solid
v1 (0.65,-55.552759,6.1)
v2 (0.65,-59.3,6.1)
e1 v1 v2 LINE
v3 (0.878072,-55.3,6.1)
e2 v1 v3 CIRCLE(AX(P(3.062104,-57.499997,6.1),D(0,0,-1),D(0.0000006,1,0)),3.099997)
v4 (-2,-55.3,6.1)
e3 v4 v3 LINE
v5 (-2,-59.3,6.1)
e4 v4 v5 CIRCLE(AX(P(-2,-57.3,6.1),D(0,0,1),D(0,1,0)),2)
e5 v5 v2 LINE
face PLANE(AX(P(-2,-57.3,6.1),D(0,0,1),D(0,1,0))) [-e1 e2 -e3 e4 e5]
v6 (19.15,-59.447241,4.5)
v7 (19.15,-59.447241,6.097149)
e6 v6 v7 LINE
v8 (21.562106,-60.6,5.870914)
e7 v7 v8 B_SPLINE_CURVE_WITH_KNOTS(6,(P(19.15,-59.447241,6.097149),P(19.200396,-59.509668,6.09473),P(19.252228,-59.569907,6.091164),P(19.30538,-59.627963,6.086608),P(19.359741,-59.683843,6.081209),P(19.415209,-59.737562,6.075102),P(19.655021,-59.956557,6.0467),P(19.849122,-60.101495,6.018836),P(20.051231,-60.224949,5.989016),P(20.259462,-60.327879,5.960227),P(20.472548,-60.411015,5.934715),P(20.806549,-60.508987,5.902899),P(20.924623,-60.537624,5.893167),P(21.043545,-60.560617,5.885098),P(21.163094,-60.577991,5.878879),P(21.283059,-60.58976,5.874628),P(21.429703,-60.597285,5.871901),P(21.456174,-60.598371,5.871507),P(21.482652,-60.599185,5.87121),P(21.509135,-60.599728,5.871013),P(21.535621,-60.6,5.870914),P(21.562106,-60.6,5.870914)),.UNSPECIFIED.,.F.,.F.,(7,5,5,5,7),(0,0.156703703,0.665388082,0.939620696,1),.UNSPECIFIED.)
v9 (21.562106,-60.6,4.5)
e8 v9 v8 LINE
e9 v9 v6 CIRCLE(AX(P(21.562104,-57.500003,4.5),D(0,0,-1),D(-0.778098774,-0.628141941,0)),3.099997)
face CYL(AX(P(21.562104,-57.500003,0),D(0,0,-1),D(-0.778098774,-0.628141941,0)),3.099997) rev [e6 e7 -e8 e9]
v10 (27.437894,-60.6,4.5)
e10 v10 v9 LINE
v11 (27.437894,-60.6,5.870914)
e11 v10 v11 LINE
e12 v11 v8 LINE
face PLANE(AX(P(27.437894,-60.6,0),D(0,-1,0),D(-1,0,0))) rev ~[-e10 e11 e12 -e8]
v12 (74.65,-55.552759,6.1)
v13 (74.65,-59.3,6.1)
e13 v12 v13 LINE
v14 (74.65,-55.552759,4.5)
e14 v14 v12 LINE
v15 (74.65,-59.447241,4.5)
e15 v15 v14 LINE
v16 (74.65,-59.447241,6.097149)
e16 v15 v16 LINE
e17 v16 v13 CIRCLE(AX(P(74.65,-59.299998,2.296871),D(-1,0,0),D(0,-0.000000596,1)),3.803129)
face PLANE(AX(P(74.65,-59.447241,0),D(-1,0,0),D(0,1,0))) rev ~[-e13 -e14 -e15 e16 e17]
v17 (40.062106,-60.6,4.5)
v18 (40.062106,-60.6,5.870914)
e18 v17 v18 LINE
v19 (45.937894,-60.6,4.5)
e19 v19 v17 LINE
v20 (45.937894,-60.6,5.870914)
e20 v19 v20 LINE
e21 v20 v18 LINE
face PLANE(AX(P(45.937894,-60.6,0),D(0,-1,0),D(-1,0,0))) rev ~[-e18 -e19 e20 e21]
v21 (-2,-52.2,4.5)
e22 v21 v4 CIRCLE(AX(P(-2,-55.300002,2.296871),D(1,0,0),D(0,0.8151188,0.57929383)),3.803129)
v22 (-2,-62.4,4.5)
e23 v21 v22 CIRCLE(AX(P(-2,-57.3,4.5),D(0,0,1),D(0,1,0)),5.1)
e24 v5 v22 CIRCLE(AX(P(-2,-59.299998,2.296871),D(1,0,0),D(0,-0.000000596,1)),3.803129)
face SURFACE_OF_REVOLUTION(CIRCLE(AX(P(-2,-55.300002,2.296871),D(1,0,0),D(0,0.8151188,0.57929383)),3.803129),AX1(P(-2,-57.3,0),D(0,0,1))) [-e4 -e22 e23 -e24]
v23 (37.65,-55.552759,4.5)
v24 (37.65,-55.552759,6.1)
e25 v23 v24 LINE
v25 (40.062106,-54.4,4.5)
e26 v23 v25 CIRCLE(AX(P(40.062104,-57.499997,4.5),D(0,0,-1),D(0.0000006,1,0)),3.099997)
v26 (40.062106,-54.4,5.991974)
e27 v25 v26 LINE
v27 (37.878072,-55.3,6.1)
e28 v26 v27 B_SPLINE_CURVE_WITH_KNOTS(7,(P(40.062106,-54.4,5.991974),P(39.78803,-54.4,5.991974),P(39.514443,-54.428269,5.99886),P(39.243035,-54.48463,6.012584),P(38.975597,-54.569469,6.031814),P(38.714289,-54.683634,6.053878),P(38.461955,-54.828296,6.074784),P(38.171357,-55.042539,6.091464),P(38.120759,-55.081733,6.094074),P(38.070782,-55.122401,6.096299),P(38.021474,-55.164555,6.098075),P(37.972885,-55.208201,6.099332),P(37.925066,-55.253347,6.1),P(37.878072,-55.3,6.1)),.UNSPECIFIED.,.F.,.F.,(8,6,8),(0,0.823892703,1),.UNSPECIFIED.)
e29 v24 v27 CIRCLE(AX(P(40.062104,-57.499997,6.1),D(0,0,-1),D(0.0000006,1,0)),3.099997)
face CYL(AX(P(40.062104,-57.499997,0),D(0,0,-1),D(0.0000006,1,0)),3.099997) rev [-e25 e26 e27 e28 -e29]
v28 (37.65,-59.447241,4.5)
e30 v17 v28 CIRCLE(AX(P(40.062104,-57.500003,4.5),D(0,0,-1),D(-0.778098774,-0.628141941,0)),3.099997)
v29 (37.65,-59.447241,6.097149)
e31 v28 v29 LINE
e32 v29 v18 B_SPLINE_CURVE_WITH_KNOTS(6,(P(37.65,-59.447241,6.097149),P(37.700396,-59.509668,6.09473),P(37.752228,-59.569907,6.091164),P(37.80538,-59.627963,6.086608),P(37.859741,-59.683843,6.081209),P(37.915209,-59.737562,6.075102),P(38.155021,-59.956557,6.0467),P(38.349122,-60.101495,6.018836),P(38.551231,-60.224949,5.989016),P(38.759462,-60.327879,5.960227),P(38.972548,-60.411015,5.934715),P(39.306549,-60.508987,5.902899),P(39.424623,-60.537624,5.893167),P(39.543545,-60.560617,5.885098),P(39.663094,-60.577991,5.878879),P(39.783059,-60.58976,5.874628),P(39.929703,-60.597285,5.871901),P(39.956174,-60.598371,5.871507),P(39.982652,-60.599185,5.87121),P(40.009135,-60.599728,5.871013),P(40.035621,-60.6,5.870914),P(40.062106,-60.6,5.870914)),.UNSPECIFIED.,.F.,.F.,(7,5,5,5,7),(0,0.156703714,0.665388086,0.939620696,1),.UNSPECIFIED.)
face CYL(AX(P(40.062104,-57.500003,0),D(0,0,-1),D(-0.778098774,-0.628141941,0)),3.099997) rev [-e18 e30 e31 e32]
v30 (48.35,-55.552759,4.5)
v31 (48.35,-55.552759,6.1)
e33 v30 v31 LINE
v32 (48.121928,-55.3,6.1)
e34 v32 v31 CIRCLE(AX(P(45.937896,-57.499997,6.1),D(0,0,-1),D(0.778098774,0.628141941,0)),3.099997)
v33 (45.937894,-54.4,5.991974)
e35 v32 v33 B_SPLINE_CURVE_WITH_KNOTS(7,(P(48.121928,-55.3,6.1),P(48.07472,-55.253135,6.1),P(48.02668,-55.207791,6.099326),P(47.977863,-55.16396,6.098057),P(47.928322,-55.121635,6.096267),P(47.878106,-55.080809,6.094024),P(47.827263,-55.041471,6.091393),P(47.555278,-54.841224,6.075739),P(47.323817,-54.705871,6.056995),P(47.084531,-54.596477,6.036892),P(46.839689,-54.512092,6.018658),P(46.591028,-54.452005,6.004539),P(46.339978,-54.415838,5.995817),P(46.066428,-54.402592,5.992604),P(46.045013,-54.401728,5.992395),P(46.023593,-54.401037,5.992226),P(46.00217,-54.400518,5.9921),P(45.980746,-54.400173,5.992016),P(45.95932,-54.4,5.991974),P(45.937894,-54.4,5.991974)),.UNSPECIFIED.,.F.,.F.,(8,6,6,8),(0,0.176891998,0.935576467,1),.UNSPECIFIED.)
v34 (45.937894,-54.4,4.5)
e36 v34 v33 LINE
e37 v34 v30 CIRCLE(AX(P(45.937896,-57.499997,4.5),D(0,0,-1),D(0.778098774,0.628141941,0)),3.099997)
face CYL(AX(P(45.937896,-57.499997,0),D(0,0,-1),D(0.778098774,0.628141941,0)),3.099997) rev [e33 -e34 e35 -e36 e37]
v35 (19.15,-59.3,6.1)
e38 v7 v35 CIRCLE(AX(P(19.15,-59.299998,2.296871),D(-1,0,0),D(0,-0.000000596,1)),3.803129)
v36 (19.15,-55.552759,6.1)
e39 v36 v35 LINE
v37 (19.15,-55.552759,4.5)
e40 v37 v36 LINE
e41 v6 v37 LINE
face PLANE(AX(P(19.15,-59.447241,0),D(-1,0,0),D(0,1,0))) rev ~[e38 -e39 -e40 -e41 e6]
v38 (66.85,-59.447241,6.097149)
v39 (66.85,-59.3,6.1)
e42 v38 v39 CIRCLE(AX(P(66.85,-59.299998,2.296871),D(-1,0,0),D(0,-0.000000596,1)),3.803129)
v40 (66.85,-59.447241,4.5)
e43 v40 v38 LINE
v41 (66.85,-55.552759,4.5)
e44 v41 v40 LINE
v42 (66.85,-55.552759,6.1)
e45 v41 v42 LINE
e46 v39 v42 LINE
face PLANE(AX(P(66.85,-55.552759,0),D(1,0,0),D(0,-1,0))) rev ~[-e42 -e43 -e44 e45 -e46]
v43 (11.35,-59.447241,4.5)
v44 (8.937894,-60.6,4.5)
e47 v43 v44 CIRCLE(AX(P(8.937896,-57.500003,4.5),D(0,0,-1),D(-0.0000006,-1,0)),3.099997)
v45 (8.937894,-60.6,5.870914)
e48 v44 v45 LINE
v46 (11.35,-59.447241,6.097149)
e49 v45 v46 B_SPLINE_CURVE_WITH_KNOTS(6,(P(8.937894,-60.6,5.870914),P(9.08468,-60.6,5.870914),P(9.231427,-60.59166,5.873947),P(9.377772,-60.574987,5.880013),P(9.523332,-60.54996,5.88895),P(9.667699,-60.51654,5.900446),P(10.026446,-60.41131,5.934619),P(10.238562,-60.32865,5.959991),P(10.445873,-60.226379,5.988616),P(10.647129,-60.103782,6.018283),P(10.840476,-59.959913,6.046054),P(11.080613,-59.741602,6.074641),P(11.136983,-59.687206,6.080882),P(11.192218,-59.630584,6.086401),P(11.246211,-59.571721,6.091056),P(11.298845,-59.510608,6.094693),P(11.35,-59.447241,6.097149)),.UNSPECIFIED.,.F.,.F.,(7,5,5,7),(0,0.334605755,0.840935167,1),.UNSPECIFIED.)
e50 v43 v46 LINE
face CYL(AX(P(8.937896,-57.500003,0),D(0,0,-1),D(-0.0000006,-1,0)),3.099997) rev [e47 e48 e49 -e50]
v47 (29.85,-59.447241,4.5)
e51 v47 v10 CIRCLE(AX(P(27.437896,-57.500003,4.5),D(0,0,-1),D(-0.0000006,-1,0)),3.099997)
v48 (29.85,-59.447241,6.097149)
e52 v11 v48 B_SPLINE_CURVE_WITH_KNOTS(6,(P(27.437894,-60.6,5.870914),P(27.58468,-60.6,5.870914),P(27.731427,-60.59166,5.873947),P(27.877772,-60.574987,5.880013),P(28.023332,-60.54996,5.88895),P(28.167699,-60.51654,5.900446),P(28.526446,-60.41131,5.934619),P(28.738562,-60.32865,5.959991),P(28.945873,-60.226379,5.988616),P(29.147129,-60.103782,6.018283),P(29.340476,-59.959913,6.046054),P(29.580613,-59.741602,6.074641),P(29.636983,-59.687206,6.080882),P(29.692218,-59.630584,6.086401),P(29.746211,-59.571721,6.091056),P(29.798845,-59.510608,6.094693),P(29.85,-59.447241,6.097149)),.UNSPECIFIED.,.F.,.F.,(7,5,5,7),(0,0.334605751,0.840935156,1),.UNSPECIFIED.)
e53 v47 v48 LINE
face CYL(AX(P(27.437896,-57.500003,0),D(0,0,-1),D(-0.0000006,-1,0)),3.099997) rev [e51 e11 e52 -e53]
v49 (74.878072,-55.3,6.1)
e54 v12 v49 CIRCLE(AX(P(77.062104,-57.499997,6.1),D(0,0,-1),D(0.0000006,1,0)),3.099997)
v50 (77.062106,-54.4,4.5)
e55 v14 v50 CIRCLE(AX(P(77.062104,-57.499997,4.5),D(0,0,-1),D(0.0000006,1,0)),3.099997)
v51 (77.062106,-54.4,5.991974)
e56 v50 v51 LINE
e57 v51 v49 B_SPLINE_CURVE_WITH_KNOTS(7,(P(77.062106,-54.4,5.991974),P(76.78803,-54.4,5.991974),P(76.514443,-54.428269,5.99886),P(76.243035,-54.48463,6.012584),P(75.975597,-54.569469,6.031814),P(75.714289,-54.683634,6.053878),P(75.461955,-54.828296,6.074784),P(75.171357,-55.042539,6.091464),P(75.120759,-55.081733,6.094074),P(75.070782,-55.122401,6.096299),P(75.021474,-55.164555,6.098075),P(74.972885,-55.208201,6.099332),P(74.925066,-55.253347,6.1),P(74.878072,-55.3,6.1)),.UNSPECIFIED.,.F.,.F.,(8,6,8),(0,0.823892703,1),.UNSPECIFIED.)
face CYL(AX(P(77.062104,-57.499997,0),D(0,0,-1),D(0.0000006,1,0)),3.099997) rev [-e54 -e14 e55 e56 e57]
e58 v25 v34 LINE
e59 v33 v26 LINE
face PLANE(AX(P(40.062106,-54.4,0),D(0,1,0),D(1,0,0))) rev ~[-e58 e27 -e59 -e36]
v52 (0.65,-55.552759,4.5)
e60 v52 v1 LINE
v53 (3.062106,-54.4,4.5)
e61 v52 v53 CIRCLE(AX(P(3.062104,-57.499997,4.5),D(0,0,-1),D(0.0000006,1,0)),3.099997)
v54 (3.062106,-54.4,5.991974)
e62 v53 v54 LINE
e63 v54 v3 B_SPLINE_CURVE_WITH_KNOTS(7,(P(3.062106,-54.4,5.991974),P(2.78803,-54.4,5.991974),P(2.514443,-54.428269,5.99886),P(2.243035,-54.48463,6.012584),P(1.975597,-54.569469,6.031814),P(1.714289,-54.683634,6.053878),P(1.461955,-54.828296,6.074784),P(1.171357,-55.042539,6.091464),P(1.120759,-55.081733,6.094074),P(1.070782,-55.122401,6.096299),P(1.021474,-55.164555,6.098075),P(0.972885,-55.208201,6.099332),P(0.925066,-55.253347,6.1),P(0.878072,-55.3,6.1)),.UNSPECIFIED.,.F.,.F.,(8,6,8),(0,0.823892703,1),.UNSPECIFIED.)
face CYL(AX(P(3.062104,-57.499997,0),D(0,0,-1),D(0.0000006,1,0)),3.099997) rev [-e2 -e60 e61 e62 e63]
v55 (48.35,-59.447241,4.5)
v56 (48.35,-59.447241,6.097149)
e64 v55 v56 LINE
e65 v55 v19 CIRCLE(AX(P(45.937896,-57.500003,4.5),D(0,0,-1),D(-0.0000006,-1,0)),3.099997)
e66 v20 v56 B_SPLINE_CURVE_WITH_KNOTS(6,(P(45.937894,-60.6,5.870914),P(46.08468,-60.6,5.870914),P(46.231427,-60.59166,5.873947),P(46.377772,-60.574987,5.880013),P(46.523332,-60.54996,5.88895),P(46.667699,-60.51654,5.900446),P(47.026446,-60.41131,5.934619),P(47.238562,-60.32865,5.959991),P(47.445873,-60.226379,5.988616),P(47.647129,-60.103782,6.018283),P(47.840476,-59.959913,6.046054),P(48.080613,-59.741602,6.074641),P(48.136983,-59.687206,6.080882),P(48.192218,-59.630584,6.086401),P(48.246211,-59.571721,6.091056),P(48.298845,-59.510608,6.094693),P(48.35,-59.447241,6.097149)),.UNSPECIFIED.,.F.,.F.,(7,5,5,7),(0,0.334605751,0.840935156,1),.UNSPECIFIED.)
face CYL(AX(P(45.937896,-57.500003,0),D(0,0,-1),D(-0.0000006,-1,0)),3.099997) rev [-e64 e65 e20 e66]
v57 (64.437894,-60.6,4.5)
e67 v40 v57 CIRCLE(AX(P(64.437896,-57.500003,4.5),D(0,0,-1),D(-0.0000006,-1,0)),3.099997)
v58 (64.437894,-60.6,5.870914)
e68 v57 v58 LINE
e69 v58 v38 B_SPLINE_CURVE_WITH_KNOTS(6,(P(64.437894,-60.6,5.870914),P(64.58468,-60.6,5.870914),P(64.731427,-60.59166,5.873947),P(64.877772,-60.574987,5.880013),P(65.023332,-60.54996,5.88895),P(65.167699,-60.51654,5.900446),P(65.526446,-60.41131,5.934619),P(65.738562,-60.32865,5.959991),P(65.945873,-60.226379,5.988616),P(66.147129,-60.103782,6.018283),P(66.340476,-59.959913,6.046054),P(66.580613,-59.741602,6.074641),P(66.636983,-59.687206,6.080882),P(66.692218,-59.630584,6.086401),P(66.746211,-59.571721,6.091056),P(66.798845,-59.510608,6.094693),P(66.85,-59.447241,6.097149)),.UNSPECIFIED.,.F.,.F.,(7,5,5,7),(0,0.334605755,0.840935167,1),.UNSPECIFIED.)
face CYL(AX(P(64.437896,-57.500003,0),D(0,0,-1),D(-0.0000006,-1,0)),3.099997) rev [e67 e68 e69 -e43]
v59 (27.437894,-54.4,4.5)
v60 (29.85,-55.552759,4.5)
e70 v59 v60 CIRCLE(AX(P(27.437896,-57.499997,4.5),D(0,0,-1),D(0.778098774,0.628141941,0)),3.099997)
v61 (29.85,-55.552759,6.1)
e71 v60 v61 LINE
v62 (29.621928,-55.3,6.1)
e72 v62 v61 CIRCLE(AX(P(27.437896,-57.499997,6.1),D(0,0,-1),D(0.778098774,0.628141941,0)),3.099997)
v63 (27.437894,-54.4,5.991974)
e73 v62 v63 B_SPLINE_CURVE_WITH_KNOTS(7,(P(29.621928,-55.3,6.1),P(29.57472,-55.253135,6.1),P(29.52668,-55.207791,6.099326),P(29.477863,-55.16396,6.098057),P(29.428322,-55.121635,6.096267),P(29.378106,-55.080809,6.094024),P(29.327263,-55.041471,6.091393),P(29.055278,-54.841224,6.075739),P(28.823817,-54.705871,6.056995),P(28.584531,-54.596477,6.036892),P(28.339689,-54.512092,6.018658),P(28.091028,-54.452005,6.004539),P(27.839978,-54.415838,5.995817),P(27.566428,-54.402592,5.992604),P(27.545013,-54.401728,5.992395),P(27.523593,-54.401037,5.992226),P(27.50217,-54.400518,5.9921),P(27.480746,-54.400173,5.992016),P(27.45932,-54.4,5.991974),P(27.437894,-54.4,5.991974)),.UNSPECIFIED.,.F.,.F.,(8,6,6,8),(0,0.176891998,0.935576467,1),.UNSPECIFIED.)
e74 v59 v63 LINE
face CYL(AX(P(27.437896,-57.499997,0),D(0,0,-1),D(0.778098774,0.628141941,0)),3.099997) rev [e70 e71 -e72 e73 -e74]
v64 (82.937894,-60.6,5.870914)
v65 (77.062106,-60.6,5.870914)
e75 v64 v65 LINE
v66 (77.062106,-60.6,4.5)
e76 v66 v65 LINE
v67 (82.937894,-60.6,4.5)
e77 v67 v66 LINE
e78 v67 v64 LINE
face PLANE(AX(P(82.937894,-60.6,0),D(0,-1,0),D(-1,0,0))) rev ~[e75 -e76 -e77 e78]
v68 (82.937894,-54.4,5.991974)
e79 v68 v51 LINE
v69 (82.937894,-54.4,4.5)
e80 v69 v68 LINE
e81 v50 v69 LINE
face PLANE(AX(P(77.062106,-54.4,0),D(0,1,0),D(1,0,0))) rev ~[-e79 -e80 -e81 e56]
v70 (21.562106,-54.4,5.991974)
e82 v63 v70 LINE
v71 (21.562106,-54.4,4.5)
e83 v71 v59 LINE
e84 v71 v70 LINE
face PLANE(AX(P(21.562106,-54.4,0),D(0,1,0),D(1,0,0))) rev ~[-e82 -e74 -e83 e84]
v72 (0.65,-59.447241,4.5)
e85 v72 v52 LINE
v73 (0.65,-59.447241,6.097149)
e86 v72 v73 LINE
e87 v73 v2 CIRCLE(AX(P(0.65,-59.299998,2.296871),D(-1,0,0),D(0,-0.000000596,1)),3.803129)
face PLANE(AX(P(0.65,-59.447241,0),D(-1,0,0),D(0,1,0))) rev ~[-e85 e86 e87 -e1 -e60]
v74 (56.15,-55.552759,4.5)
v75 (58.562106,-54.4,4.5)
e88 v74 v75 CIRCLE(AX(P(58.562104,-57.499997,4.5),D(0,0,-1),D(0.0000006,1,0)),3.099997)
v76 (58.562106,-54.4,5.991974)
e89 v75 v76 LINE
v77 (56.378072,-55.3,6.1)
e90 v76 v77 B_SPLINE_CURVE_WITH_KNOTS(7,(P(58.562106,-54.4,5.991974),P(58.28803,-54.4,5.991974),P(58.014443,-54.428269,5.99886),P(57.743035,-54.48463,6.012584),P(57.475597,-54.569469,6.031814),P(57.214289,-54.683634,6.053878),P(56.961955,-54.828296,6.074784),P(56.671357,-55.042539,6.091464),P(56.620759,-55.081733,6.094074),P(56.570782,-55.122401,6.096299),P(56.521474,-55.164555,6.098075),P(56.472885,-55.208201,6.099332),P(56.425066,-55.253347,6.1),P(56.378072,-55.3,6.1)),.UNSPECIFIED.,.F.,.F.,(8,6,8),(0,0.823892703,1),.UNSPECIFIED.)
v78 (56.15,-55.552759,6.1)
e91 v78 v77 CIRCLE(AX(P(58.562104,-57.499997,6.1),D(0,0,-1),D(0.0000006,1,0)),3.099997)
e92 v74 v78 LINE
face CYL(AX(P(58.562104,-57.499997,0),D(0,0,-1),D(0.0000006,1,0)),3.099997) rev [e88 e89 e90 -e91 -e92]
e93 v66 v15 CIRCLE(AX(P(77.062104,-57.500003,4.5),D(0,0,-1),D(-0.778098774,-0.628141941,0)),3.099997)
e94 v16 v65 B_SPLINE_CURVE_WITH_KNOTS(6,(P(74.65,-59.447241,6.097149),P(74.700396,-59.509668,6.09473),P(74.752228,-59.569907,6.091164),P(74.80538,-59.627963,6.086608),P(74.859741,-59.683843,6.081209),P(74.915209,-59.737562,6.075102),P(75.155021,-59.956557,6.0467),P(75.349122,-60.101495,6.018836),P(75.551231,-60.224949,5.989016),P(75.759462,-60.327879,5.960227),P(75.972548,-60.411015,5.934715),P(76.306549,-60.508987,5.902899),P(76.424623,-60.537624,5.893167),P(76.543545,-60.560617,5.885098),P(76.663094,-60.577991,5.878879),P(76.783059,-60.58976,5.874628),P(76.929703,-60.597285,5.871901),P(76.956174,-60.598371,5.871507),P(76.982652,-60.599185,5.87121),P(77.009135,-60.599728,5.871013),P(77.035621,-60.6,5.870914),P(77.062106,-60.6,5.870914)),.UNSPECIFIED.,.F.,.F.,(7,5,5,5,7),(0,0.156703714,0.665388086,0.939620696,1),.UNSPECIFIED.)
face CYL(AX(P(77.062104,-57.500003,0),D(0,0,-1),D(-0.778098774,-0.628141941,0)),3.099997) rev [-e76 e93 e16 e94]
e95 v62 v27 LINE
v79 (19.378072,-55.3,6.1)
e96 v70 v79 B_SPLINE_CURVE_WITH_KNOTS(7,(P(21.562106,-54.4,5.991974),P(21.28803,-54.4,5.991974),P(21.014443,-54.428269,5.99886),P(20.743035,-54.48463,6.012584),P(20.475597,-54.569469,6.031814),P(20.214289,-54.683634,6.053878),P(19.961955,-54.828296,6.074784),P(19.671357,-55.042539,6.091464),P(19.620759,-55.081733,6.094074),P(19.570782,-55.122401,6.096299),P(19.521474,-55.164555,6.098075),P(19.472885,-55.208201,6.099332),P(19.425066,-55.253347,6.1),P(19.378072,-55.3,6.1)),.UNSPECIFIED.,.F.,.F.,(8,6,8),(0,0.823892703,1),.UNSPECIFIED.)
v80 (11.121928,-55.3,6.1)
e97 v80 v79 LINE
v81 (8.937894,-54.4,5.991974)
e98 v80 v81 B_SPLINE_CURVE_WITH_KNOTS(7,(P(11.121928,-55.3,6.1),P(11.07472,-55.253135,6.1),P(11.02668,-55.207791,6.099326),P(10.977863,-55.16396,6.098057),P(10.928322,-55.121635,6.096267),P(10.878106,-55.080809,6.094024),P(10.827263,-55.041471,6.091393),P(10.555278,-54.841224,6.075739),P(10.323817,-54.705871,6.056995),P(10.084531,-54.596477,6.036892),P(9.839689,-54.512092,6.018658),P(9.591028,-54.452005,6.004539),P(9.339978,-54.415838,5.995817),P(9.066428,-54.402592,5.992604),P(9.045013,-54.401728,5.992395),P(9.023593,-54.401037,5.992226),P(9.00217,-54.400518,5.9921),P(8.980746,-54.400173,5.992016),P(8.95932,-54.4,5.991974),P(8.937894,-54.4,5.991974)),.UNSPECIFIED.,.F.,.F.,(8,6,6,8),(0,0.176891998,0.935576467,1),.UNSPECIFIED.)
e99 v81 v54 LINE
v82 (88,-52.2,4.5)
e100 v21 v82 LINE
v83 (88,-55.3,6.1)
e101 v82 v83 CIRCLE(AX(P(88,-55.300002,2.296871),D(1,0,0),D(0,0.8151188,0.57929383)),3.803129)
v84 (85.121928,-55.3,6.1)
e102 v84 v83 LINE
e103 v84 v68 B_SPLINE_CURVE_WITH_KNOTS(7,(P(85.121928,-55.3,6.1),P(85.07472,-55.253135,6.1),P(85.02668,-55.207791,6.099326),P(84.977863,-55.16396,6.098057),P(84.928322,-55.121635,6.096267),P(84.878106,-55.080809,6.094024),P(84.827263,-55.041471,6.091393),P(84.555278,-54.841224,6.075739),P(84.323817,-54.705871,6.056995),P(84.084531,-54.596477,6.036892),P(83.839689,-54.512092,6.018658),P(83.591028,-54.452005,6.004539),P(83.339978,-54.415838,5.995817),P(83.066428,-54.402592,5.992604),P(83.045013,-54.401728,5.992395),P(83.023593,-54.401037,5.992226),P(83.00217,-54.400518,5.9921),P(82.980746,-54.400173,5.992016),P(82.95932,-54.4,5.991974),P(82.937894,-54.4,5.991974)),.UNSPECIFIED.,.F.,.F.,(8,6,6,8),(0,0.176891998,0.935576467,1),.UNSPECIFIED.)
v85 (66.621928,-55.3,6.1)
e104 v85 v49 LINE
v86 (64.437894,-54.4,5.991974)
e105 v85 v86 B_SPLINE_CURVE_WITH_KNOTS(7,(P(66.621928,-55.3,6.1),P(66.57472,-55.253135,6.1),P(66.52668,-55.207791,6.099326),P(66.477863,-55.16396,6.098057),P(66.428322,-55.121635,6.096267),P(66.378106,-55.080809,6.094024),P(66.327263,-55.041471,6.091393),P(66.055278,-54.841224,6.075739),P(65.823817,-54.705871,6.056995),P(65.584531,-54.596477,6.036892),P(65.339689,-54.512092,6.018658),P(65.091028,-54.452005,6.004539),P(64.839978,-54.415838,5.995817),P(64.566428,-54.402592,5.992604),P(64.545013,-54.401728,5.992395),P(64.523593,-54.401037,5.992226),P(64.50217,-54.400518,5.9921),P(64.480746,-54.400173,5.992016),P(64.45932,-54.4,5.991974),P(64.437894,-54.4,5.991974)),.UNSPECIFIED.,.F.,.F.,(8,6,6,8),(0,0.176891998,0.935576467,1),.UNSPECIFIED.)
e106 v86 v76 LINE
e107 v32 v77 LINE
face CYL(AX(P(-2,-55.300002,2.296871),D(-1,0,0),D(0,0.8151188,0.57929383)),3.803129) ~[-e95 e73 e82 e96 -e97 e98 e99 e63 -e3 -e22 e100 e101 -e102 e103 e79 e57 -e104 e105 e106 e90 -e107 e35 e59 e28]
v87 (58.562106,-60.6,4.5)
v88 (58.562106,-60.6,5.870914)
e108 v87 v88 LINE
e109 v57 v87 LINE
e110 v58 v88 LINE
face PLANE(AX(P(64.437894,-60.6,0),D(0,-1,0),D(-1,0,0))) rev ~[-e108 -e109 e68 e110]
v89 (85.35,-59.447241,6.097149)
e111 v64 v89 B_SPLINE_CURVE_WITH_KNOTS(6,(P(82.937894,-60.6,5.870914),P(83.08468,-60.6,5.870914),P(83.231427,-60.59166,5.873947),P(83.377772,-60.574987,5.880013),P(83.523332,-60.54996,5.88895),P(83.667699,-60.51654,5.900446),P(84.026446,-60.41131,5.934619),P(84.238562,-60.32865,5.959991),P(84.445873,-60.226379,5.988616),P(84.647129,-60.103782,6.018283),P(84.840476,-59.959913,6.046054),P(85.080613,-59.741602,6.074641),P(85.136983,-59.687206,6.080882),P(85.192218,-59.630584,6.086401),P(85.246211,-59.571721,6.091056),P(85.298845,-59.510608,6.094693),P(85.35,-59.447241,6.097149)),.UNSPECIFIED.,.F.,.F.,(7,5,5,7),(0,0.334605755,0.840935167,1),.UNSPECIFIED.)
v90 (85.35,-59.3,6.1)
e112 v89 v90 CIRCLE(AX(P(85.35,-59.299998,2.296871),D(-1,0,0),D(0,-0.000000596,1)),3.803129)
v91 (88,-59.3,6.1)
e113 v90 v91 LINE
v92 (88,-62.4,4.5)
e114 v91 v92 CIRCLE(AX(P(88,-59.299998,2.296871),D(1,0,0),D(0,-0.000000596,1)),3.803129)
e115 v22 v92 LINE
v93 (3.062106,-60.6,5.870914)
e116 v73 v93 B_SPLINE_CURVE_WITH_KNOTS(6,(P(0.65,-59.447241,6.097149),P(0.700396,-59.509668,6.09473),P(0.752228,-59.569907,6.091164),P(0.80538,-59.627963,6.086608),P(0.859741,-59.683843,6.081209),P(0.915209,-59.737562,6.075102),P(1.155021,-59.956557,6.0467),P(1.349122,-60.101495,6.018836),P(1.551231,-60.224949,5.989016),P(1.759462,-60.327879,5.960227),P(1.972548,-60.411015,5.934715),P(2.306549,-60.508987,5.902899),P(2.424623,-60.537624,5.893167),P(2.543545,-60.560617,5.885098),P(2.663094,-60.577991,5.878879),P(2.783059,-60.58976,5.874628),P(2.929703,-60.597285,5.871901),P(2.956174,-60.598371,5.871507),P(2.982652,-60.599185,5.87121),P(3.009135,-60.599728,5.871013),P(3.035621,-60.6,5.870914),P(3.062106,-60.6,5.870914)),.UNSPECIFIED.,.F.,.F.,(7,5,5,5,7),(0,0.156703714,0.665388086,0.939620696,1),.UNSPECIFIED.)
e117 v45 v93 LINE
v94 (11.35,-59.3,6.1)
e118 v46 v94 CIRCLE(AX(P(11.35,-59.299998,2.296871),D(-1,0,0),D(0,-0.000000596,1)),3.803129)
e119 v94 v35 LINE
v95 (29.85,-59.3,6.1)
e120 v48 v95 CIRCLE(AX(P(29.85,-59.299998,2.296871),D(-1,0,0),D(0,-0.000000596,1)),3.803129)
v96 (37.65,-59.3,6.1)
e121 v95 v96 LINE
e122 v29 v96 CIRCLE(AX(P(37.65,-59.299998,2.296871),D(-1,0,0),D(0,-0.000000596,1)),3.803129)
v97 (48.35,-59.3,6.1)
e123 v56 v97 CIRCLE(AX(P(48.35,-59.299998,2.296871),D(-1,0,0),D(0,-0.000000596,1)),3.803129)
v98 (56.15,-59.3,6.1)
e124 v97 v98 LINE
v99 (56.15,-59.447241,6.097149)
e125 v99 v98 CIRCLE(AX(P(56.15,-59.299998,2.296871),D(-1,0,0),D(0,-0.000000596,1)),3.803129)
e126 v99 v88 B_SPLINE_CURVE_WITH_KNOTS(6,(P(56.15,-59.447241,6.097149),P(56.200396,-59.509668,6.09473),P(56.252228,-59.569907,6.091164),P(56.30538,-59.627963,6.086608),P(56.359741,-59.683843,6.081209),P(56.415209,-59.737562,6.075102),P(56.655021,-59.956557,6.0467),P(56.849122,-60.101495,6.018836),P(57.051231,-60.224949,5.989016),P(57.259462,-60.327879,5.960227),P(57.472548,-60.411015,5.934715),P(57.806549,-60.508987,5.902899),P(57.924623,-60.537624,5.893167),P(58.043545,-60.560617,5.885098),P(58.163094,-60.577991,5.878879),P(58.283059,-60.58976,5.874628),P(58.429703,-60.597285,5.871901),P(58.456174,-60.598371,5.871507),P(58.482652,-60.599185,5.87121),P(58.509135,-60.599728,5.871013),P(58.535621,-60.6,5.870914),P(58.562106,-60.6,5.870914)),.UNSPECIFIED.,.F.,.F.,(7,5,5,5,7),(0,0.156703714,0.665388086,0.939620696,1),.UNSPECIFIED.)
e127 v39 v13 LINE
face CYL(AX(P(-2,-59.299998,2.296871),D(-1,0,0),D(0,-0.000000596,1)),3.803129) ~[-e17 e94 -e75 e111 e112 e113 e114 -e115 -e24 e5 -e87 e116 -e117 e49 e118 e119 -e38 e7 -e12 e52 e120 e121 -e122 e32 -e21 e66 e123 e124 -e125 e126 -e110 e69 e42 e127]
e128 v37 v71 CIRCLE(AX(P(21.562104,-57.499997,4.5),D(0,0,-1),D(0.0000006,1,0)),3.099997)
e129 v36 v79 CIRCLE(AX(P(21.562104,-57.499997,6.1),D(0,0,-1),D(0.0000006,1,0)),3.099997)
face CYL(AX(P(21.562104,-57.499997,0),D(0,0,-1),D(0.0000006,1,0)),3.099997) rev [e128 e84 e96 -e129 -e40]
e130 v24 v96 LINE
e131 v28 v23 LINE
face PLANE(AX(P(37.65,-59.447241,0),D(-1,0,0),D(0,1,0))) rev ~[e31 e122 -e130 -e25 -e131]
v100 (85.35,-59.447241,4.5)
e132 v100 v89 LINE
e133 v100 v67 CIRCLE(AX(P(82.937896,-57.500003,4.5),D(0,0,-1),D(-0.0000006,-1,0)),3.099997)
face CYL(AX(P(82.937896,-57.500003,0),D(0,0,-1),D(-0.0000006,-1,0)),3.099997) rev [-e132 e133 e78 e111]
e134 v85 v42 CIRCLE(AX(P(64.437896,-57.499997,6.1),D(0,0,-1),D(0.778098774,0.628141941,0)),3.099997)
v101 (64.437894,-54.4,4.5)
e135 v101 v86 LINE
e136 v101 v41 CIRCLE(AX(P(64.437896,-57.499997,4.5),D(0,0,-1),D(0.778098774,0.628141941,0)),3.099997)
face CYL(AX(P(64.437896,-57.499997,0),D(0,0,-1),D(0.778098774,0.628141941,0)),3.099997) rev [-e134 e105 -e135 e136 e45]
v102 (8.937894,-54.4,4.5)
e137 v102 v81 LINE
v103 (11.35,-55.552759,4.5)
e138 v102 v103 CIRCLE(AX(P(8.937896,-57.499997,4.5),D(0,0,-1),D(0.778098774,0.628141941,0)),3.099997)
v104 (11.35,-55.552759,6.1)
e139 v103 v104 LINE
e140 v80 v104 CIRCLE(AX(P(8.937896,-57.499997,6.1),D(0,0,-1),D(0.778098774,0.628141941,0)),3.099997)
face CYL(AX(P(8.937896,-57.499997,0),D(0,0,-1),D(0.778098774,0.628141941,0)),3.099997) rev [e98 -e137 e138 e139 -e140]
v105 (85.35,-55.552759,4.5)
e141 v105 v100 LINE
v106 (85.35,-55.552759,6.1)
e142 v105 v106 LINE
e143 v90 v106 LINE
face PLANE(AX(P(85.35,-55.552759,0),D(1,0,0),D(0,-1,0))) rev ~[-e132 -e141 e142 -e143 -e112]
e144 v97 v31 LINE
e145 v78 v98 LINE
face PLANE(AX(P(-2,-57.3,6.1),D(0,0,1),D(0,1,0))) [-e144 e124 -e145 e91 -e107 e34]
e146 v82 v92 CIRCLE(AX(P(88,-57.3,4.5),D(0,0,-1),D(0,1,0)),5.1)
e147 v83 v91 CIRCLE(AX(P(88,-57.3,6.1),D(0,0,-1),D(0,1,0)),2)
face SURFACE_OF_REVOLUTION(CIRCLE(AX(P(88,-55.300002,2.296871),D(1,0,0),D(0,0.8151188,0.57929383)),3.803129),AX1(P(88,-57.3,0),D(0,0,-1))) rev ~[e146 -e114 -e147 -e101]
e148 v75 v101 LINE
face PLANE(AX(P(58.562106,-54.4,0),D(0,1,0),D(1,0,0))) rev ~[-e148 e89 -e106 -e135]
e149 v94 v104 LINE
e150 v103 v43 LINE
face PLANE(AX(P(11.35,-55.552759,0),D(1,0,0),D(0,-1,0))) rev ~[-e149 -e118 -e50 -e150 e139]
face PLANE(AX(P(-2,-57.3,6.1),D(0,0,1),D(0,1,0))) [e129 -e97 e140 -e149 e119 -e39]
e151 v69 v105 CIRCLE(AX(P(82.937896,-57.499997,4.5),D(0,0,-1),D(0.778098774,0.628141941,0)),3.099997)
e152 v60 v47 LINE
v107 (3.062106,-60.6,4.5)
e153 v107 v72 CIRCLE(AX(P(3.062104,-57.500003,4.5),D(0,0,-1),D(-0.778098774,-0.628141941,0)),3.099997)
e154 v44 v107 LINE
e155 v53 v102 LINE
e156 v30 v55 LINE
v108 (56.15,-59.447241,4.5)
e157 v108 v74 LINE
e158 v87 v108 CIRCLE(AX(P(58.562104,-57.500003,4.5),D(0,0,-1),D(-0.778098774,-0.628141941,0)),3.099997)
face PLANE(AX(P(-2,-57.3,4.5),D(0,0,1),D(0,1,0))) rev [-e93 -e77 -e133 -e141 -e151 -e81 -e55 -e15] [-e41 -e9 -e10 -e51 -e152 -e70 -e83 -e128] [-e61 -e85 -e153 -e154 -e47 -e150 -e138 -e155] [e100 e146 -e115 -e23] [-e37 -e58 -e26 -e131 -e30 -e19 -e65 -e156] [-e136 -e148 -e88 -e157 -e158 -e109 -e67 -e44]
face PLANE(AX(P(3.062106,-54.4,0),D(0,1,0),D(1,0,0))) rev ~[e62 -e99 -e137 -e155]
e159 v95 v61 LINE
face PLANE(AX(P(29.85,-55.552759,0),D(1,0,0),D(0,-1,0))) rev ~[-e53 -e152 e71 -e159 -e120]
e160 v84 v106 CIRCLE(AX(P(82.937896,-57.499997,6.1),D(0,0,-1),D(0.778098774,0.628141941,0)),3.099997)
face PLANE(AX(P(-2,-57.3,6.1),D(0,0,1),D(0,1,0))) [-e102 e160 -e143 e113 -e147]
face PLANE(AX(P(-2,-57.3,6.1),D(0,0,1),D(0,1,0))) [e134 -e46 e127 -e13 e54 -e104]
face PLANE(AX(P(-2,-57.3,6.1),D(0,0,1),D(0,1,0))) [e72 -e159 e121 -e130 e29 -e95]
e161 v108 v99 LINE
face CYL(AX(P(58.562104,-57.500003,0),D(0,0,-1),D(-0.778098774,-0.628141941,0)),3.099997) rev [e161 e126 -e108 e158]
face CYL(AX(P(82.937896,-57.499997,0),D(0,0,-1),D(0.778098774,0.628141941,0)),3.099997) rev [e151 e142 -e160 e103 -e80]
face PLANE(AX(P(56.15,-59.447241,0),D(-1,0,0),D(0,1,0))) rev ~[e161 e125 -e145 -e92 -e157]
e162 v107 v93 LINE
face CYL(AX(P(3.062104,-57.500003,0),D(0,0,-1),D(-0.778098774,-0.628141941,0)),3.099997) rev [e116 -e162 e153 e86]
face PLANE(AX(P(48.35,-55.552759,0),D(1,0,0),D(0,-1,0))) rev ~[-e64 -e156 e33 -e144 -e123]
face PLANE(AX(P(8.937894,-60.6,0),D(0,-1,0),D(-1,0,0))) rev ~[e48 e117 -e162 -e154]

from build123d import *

# Parameters (mm, degrees)
PAD015_DEPTH        = 10
REVOLUTION_ANGLE    = -180
REVOLUTION001_ANGLE = 180
PAD014_DEPTH        = 90


with BuildPart() as pad015:
    # Sketch017 → Pad015 (new body)
    with BuildSketch(Plane.XY):
        with BuildLine():
            Line((11.35, -55.552759), (11.35, -59.447241))
            ThreePointArc((8.937894, -60.6), (10.274598, -60.297003), (11.35, -59.447241))
            Line((8.937894, -60.6), (3.062106, -60.6))
            ThreePointArc((0.65, -59.447241), (1.725402, -60.297003), (3.062106, -60.6))
            Line((0.65, -59.447241), (0.65, -55.552759))
            ThreePointArc((3.062106, -54.4), (1.725402, -54.702997), (0.65, -55.552759))
            Line((3.062106, -54.4), (8.937894, -54.4))
            ThreePointArc((11.35, -55.552759), (10.274598, -54.702997), (8.937894, -54.4))
        make_face()
        with BuildLine():
            Line((29.85, -55.552759), (29.85, -59.447241))
            ThreePointArc((27.437894, -60.6), (28.774598, -60.297003), (29.85, -59.447241))
            Line((27.437894, -60.6), (21.562106, -60.6))
            ThreePointArc((19.15, -59.447241), (20.225402, -60.297003), (21.562106, -60.6))
            Line((19.15, -59.447241), (19.15, -55.552759))
            ThreePointArc((21.562106, -54.4), (20.225402, -54.702997), (19.15, -55.552759))
            Line((21.562106, -54.4), (27.437894, -54.4))
            ThreePointArc((29.85, -55.552759), (28.774598, -54.702997), (27.437894, -54.4))
        make_face()
        with BuildLine():
            Line((48.35, -55.552759), (48.35, -59.447241))
            ThreePointArc((45.937894, -60.6), (47.274598, -60.297003), (48.35, -59.447241))
            Line((45.937894, -60.6), (40.062106, -60.6))
            ThreePointArc((37.65, -59.447241), (38.725402, -60.297003), (40.062106, -60.6))
            Line((37.65, -59.447241), (37.65, -55.552759))
            ThreePointArc((40.062106, -54.4), (38.725402, -54.702997), (37.65, -55.552759))
            Line((40.062106, -54.4), (45.937894, -54.4))
            ThreePointArc((48.35, -55.552759), (47.274598, -54.702997), (45.937894, -54.4))
        make_face()
        with BuildLine():
            Line((66.85, -55.552759), (66.85, -59.447241))
            ThreePointArc((64.437894, -60.6), (65.774598, -60.297003), (66.85, -59.447241))
            Line((64.437894, -60.6), (58.562106, -60.6))
            ThreePointArc((56.15, -59.447241), (57.225402, -60.297003), (58.562106, -60.6))
            Line((56.15, -59.447241), (56.15, -55.552759))
            ThreePointArc((58.562106, -54.4), (57.225402, -54.702997), (56.15, -55.552759))
            Line((58.562106, -54.4), (64.437894, -54.4))
            ThreePointArc((66.85, -55.552759), (65.774598, -54.702997), (64.437894, -54.4))
        make_face()
        with BuildLine():
            Line((85.35, -55.552759), (85.35, -59.447241))
            ThreePointArc((82.937894, -60.6), (84.274598, -60.297003), (85.35, -59.447241))
            Line((82.937894, -60.6), (77.062106, -60.6))
            ThreePointArc((74.65, -59.447241), (75.725402, -60.297003), (77.062106, -60.6))
            Line((74.65, -59.447241), (74.65, -55.552759))
            ThreePointArc((77.062106, -54.4), (75.725402, -54.702997), (74.65, -55.552759))
            Line((77.062106, -54.4), (82.937894, -54.4))
            ThreePointArc((85.35, -55.552759), (84.274598, -54.702997), (82.937894, -54.4))
        make_face()
    extrude(amount=PAD015_DEPTH)


with BuildPart() as revolution:
    # Sketch016 → Revolution (revolve)
    with BuildSketch(Plane.YZ.offset(90)):
        with BuildLine():
            ThreePointArc((5.1, 4.5), (3.744276, 5.67641), (2, 6.1))
            Line((2, 6.1), (0, 6.1))
            Line((0, 6.1), (0, 4.5))
            Line((5.1, 4.5), (0, 4.5))
        make_face()
    revolve(axis=Axis((90, 0, 0), (0, 0, 1)), revolution_arc=REVOLUTION_ANGLE)


with BuildPart() as revolution001:
    # Clone2D001 → Revolution001 (revolve)
    with BuildSketch(Plane.YZ):
        with BuildLine():
            ThreePointArc((5.1, 4.5), (3.744276, 5.67641), (2, 6.1))
            Line((2, 6.1), (0, 6.1))
            Line((0, 6.1), (0, 4.5))
            Line((0, 4.5), (5.1, 4.5))
        make_face()
    revolve(axis=Axis((0, 0, 0), (0, 0, 1)), revolution_arc=REVOLUTION001_ANGLE)


with BuildPart() as cut_button_strip:
    # Sketch015 → Pad014 (new body)
    with BuildSketch(Plane.YZ):
        with BuildLine():
            Line((-5.1, 4.5), (5.1, 4.5))
            ThreePointArc((5.1, 4.5), (3.744276, 5.67641), (2, 6.1))
            Line((-2, 6.1), (2, 6.1))
            ThreePointArc((-2, 6.1), (-3.744276, 5.67641), (-5.1, 4.5))
        make_face()
    extrude(amount=PAD014_DEPTH)

    # Fusion002: union Revolution, Revolution001
    add(revolution.part)
    add(revolution001.part)


with BuildPart() as cut_button_strip_1:
    # Fusion002 placement: moved
    add(cut_button_strip.part.moved(Location((-2, -57.3, 0))))

    # Cut002: cut Pad015
    add(pad015.part, mode=Mode.SUBTRACT)


solid = cut_button_strip_1.part
